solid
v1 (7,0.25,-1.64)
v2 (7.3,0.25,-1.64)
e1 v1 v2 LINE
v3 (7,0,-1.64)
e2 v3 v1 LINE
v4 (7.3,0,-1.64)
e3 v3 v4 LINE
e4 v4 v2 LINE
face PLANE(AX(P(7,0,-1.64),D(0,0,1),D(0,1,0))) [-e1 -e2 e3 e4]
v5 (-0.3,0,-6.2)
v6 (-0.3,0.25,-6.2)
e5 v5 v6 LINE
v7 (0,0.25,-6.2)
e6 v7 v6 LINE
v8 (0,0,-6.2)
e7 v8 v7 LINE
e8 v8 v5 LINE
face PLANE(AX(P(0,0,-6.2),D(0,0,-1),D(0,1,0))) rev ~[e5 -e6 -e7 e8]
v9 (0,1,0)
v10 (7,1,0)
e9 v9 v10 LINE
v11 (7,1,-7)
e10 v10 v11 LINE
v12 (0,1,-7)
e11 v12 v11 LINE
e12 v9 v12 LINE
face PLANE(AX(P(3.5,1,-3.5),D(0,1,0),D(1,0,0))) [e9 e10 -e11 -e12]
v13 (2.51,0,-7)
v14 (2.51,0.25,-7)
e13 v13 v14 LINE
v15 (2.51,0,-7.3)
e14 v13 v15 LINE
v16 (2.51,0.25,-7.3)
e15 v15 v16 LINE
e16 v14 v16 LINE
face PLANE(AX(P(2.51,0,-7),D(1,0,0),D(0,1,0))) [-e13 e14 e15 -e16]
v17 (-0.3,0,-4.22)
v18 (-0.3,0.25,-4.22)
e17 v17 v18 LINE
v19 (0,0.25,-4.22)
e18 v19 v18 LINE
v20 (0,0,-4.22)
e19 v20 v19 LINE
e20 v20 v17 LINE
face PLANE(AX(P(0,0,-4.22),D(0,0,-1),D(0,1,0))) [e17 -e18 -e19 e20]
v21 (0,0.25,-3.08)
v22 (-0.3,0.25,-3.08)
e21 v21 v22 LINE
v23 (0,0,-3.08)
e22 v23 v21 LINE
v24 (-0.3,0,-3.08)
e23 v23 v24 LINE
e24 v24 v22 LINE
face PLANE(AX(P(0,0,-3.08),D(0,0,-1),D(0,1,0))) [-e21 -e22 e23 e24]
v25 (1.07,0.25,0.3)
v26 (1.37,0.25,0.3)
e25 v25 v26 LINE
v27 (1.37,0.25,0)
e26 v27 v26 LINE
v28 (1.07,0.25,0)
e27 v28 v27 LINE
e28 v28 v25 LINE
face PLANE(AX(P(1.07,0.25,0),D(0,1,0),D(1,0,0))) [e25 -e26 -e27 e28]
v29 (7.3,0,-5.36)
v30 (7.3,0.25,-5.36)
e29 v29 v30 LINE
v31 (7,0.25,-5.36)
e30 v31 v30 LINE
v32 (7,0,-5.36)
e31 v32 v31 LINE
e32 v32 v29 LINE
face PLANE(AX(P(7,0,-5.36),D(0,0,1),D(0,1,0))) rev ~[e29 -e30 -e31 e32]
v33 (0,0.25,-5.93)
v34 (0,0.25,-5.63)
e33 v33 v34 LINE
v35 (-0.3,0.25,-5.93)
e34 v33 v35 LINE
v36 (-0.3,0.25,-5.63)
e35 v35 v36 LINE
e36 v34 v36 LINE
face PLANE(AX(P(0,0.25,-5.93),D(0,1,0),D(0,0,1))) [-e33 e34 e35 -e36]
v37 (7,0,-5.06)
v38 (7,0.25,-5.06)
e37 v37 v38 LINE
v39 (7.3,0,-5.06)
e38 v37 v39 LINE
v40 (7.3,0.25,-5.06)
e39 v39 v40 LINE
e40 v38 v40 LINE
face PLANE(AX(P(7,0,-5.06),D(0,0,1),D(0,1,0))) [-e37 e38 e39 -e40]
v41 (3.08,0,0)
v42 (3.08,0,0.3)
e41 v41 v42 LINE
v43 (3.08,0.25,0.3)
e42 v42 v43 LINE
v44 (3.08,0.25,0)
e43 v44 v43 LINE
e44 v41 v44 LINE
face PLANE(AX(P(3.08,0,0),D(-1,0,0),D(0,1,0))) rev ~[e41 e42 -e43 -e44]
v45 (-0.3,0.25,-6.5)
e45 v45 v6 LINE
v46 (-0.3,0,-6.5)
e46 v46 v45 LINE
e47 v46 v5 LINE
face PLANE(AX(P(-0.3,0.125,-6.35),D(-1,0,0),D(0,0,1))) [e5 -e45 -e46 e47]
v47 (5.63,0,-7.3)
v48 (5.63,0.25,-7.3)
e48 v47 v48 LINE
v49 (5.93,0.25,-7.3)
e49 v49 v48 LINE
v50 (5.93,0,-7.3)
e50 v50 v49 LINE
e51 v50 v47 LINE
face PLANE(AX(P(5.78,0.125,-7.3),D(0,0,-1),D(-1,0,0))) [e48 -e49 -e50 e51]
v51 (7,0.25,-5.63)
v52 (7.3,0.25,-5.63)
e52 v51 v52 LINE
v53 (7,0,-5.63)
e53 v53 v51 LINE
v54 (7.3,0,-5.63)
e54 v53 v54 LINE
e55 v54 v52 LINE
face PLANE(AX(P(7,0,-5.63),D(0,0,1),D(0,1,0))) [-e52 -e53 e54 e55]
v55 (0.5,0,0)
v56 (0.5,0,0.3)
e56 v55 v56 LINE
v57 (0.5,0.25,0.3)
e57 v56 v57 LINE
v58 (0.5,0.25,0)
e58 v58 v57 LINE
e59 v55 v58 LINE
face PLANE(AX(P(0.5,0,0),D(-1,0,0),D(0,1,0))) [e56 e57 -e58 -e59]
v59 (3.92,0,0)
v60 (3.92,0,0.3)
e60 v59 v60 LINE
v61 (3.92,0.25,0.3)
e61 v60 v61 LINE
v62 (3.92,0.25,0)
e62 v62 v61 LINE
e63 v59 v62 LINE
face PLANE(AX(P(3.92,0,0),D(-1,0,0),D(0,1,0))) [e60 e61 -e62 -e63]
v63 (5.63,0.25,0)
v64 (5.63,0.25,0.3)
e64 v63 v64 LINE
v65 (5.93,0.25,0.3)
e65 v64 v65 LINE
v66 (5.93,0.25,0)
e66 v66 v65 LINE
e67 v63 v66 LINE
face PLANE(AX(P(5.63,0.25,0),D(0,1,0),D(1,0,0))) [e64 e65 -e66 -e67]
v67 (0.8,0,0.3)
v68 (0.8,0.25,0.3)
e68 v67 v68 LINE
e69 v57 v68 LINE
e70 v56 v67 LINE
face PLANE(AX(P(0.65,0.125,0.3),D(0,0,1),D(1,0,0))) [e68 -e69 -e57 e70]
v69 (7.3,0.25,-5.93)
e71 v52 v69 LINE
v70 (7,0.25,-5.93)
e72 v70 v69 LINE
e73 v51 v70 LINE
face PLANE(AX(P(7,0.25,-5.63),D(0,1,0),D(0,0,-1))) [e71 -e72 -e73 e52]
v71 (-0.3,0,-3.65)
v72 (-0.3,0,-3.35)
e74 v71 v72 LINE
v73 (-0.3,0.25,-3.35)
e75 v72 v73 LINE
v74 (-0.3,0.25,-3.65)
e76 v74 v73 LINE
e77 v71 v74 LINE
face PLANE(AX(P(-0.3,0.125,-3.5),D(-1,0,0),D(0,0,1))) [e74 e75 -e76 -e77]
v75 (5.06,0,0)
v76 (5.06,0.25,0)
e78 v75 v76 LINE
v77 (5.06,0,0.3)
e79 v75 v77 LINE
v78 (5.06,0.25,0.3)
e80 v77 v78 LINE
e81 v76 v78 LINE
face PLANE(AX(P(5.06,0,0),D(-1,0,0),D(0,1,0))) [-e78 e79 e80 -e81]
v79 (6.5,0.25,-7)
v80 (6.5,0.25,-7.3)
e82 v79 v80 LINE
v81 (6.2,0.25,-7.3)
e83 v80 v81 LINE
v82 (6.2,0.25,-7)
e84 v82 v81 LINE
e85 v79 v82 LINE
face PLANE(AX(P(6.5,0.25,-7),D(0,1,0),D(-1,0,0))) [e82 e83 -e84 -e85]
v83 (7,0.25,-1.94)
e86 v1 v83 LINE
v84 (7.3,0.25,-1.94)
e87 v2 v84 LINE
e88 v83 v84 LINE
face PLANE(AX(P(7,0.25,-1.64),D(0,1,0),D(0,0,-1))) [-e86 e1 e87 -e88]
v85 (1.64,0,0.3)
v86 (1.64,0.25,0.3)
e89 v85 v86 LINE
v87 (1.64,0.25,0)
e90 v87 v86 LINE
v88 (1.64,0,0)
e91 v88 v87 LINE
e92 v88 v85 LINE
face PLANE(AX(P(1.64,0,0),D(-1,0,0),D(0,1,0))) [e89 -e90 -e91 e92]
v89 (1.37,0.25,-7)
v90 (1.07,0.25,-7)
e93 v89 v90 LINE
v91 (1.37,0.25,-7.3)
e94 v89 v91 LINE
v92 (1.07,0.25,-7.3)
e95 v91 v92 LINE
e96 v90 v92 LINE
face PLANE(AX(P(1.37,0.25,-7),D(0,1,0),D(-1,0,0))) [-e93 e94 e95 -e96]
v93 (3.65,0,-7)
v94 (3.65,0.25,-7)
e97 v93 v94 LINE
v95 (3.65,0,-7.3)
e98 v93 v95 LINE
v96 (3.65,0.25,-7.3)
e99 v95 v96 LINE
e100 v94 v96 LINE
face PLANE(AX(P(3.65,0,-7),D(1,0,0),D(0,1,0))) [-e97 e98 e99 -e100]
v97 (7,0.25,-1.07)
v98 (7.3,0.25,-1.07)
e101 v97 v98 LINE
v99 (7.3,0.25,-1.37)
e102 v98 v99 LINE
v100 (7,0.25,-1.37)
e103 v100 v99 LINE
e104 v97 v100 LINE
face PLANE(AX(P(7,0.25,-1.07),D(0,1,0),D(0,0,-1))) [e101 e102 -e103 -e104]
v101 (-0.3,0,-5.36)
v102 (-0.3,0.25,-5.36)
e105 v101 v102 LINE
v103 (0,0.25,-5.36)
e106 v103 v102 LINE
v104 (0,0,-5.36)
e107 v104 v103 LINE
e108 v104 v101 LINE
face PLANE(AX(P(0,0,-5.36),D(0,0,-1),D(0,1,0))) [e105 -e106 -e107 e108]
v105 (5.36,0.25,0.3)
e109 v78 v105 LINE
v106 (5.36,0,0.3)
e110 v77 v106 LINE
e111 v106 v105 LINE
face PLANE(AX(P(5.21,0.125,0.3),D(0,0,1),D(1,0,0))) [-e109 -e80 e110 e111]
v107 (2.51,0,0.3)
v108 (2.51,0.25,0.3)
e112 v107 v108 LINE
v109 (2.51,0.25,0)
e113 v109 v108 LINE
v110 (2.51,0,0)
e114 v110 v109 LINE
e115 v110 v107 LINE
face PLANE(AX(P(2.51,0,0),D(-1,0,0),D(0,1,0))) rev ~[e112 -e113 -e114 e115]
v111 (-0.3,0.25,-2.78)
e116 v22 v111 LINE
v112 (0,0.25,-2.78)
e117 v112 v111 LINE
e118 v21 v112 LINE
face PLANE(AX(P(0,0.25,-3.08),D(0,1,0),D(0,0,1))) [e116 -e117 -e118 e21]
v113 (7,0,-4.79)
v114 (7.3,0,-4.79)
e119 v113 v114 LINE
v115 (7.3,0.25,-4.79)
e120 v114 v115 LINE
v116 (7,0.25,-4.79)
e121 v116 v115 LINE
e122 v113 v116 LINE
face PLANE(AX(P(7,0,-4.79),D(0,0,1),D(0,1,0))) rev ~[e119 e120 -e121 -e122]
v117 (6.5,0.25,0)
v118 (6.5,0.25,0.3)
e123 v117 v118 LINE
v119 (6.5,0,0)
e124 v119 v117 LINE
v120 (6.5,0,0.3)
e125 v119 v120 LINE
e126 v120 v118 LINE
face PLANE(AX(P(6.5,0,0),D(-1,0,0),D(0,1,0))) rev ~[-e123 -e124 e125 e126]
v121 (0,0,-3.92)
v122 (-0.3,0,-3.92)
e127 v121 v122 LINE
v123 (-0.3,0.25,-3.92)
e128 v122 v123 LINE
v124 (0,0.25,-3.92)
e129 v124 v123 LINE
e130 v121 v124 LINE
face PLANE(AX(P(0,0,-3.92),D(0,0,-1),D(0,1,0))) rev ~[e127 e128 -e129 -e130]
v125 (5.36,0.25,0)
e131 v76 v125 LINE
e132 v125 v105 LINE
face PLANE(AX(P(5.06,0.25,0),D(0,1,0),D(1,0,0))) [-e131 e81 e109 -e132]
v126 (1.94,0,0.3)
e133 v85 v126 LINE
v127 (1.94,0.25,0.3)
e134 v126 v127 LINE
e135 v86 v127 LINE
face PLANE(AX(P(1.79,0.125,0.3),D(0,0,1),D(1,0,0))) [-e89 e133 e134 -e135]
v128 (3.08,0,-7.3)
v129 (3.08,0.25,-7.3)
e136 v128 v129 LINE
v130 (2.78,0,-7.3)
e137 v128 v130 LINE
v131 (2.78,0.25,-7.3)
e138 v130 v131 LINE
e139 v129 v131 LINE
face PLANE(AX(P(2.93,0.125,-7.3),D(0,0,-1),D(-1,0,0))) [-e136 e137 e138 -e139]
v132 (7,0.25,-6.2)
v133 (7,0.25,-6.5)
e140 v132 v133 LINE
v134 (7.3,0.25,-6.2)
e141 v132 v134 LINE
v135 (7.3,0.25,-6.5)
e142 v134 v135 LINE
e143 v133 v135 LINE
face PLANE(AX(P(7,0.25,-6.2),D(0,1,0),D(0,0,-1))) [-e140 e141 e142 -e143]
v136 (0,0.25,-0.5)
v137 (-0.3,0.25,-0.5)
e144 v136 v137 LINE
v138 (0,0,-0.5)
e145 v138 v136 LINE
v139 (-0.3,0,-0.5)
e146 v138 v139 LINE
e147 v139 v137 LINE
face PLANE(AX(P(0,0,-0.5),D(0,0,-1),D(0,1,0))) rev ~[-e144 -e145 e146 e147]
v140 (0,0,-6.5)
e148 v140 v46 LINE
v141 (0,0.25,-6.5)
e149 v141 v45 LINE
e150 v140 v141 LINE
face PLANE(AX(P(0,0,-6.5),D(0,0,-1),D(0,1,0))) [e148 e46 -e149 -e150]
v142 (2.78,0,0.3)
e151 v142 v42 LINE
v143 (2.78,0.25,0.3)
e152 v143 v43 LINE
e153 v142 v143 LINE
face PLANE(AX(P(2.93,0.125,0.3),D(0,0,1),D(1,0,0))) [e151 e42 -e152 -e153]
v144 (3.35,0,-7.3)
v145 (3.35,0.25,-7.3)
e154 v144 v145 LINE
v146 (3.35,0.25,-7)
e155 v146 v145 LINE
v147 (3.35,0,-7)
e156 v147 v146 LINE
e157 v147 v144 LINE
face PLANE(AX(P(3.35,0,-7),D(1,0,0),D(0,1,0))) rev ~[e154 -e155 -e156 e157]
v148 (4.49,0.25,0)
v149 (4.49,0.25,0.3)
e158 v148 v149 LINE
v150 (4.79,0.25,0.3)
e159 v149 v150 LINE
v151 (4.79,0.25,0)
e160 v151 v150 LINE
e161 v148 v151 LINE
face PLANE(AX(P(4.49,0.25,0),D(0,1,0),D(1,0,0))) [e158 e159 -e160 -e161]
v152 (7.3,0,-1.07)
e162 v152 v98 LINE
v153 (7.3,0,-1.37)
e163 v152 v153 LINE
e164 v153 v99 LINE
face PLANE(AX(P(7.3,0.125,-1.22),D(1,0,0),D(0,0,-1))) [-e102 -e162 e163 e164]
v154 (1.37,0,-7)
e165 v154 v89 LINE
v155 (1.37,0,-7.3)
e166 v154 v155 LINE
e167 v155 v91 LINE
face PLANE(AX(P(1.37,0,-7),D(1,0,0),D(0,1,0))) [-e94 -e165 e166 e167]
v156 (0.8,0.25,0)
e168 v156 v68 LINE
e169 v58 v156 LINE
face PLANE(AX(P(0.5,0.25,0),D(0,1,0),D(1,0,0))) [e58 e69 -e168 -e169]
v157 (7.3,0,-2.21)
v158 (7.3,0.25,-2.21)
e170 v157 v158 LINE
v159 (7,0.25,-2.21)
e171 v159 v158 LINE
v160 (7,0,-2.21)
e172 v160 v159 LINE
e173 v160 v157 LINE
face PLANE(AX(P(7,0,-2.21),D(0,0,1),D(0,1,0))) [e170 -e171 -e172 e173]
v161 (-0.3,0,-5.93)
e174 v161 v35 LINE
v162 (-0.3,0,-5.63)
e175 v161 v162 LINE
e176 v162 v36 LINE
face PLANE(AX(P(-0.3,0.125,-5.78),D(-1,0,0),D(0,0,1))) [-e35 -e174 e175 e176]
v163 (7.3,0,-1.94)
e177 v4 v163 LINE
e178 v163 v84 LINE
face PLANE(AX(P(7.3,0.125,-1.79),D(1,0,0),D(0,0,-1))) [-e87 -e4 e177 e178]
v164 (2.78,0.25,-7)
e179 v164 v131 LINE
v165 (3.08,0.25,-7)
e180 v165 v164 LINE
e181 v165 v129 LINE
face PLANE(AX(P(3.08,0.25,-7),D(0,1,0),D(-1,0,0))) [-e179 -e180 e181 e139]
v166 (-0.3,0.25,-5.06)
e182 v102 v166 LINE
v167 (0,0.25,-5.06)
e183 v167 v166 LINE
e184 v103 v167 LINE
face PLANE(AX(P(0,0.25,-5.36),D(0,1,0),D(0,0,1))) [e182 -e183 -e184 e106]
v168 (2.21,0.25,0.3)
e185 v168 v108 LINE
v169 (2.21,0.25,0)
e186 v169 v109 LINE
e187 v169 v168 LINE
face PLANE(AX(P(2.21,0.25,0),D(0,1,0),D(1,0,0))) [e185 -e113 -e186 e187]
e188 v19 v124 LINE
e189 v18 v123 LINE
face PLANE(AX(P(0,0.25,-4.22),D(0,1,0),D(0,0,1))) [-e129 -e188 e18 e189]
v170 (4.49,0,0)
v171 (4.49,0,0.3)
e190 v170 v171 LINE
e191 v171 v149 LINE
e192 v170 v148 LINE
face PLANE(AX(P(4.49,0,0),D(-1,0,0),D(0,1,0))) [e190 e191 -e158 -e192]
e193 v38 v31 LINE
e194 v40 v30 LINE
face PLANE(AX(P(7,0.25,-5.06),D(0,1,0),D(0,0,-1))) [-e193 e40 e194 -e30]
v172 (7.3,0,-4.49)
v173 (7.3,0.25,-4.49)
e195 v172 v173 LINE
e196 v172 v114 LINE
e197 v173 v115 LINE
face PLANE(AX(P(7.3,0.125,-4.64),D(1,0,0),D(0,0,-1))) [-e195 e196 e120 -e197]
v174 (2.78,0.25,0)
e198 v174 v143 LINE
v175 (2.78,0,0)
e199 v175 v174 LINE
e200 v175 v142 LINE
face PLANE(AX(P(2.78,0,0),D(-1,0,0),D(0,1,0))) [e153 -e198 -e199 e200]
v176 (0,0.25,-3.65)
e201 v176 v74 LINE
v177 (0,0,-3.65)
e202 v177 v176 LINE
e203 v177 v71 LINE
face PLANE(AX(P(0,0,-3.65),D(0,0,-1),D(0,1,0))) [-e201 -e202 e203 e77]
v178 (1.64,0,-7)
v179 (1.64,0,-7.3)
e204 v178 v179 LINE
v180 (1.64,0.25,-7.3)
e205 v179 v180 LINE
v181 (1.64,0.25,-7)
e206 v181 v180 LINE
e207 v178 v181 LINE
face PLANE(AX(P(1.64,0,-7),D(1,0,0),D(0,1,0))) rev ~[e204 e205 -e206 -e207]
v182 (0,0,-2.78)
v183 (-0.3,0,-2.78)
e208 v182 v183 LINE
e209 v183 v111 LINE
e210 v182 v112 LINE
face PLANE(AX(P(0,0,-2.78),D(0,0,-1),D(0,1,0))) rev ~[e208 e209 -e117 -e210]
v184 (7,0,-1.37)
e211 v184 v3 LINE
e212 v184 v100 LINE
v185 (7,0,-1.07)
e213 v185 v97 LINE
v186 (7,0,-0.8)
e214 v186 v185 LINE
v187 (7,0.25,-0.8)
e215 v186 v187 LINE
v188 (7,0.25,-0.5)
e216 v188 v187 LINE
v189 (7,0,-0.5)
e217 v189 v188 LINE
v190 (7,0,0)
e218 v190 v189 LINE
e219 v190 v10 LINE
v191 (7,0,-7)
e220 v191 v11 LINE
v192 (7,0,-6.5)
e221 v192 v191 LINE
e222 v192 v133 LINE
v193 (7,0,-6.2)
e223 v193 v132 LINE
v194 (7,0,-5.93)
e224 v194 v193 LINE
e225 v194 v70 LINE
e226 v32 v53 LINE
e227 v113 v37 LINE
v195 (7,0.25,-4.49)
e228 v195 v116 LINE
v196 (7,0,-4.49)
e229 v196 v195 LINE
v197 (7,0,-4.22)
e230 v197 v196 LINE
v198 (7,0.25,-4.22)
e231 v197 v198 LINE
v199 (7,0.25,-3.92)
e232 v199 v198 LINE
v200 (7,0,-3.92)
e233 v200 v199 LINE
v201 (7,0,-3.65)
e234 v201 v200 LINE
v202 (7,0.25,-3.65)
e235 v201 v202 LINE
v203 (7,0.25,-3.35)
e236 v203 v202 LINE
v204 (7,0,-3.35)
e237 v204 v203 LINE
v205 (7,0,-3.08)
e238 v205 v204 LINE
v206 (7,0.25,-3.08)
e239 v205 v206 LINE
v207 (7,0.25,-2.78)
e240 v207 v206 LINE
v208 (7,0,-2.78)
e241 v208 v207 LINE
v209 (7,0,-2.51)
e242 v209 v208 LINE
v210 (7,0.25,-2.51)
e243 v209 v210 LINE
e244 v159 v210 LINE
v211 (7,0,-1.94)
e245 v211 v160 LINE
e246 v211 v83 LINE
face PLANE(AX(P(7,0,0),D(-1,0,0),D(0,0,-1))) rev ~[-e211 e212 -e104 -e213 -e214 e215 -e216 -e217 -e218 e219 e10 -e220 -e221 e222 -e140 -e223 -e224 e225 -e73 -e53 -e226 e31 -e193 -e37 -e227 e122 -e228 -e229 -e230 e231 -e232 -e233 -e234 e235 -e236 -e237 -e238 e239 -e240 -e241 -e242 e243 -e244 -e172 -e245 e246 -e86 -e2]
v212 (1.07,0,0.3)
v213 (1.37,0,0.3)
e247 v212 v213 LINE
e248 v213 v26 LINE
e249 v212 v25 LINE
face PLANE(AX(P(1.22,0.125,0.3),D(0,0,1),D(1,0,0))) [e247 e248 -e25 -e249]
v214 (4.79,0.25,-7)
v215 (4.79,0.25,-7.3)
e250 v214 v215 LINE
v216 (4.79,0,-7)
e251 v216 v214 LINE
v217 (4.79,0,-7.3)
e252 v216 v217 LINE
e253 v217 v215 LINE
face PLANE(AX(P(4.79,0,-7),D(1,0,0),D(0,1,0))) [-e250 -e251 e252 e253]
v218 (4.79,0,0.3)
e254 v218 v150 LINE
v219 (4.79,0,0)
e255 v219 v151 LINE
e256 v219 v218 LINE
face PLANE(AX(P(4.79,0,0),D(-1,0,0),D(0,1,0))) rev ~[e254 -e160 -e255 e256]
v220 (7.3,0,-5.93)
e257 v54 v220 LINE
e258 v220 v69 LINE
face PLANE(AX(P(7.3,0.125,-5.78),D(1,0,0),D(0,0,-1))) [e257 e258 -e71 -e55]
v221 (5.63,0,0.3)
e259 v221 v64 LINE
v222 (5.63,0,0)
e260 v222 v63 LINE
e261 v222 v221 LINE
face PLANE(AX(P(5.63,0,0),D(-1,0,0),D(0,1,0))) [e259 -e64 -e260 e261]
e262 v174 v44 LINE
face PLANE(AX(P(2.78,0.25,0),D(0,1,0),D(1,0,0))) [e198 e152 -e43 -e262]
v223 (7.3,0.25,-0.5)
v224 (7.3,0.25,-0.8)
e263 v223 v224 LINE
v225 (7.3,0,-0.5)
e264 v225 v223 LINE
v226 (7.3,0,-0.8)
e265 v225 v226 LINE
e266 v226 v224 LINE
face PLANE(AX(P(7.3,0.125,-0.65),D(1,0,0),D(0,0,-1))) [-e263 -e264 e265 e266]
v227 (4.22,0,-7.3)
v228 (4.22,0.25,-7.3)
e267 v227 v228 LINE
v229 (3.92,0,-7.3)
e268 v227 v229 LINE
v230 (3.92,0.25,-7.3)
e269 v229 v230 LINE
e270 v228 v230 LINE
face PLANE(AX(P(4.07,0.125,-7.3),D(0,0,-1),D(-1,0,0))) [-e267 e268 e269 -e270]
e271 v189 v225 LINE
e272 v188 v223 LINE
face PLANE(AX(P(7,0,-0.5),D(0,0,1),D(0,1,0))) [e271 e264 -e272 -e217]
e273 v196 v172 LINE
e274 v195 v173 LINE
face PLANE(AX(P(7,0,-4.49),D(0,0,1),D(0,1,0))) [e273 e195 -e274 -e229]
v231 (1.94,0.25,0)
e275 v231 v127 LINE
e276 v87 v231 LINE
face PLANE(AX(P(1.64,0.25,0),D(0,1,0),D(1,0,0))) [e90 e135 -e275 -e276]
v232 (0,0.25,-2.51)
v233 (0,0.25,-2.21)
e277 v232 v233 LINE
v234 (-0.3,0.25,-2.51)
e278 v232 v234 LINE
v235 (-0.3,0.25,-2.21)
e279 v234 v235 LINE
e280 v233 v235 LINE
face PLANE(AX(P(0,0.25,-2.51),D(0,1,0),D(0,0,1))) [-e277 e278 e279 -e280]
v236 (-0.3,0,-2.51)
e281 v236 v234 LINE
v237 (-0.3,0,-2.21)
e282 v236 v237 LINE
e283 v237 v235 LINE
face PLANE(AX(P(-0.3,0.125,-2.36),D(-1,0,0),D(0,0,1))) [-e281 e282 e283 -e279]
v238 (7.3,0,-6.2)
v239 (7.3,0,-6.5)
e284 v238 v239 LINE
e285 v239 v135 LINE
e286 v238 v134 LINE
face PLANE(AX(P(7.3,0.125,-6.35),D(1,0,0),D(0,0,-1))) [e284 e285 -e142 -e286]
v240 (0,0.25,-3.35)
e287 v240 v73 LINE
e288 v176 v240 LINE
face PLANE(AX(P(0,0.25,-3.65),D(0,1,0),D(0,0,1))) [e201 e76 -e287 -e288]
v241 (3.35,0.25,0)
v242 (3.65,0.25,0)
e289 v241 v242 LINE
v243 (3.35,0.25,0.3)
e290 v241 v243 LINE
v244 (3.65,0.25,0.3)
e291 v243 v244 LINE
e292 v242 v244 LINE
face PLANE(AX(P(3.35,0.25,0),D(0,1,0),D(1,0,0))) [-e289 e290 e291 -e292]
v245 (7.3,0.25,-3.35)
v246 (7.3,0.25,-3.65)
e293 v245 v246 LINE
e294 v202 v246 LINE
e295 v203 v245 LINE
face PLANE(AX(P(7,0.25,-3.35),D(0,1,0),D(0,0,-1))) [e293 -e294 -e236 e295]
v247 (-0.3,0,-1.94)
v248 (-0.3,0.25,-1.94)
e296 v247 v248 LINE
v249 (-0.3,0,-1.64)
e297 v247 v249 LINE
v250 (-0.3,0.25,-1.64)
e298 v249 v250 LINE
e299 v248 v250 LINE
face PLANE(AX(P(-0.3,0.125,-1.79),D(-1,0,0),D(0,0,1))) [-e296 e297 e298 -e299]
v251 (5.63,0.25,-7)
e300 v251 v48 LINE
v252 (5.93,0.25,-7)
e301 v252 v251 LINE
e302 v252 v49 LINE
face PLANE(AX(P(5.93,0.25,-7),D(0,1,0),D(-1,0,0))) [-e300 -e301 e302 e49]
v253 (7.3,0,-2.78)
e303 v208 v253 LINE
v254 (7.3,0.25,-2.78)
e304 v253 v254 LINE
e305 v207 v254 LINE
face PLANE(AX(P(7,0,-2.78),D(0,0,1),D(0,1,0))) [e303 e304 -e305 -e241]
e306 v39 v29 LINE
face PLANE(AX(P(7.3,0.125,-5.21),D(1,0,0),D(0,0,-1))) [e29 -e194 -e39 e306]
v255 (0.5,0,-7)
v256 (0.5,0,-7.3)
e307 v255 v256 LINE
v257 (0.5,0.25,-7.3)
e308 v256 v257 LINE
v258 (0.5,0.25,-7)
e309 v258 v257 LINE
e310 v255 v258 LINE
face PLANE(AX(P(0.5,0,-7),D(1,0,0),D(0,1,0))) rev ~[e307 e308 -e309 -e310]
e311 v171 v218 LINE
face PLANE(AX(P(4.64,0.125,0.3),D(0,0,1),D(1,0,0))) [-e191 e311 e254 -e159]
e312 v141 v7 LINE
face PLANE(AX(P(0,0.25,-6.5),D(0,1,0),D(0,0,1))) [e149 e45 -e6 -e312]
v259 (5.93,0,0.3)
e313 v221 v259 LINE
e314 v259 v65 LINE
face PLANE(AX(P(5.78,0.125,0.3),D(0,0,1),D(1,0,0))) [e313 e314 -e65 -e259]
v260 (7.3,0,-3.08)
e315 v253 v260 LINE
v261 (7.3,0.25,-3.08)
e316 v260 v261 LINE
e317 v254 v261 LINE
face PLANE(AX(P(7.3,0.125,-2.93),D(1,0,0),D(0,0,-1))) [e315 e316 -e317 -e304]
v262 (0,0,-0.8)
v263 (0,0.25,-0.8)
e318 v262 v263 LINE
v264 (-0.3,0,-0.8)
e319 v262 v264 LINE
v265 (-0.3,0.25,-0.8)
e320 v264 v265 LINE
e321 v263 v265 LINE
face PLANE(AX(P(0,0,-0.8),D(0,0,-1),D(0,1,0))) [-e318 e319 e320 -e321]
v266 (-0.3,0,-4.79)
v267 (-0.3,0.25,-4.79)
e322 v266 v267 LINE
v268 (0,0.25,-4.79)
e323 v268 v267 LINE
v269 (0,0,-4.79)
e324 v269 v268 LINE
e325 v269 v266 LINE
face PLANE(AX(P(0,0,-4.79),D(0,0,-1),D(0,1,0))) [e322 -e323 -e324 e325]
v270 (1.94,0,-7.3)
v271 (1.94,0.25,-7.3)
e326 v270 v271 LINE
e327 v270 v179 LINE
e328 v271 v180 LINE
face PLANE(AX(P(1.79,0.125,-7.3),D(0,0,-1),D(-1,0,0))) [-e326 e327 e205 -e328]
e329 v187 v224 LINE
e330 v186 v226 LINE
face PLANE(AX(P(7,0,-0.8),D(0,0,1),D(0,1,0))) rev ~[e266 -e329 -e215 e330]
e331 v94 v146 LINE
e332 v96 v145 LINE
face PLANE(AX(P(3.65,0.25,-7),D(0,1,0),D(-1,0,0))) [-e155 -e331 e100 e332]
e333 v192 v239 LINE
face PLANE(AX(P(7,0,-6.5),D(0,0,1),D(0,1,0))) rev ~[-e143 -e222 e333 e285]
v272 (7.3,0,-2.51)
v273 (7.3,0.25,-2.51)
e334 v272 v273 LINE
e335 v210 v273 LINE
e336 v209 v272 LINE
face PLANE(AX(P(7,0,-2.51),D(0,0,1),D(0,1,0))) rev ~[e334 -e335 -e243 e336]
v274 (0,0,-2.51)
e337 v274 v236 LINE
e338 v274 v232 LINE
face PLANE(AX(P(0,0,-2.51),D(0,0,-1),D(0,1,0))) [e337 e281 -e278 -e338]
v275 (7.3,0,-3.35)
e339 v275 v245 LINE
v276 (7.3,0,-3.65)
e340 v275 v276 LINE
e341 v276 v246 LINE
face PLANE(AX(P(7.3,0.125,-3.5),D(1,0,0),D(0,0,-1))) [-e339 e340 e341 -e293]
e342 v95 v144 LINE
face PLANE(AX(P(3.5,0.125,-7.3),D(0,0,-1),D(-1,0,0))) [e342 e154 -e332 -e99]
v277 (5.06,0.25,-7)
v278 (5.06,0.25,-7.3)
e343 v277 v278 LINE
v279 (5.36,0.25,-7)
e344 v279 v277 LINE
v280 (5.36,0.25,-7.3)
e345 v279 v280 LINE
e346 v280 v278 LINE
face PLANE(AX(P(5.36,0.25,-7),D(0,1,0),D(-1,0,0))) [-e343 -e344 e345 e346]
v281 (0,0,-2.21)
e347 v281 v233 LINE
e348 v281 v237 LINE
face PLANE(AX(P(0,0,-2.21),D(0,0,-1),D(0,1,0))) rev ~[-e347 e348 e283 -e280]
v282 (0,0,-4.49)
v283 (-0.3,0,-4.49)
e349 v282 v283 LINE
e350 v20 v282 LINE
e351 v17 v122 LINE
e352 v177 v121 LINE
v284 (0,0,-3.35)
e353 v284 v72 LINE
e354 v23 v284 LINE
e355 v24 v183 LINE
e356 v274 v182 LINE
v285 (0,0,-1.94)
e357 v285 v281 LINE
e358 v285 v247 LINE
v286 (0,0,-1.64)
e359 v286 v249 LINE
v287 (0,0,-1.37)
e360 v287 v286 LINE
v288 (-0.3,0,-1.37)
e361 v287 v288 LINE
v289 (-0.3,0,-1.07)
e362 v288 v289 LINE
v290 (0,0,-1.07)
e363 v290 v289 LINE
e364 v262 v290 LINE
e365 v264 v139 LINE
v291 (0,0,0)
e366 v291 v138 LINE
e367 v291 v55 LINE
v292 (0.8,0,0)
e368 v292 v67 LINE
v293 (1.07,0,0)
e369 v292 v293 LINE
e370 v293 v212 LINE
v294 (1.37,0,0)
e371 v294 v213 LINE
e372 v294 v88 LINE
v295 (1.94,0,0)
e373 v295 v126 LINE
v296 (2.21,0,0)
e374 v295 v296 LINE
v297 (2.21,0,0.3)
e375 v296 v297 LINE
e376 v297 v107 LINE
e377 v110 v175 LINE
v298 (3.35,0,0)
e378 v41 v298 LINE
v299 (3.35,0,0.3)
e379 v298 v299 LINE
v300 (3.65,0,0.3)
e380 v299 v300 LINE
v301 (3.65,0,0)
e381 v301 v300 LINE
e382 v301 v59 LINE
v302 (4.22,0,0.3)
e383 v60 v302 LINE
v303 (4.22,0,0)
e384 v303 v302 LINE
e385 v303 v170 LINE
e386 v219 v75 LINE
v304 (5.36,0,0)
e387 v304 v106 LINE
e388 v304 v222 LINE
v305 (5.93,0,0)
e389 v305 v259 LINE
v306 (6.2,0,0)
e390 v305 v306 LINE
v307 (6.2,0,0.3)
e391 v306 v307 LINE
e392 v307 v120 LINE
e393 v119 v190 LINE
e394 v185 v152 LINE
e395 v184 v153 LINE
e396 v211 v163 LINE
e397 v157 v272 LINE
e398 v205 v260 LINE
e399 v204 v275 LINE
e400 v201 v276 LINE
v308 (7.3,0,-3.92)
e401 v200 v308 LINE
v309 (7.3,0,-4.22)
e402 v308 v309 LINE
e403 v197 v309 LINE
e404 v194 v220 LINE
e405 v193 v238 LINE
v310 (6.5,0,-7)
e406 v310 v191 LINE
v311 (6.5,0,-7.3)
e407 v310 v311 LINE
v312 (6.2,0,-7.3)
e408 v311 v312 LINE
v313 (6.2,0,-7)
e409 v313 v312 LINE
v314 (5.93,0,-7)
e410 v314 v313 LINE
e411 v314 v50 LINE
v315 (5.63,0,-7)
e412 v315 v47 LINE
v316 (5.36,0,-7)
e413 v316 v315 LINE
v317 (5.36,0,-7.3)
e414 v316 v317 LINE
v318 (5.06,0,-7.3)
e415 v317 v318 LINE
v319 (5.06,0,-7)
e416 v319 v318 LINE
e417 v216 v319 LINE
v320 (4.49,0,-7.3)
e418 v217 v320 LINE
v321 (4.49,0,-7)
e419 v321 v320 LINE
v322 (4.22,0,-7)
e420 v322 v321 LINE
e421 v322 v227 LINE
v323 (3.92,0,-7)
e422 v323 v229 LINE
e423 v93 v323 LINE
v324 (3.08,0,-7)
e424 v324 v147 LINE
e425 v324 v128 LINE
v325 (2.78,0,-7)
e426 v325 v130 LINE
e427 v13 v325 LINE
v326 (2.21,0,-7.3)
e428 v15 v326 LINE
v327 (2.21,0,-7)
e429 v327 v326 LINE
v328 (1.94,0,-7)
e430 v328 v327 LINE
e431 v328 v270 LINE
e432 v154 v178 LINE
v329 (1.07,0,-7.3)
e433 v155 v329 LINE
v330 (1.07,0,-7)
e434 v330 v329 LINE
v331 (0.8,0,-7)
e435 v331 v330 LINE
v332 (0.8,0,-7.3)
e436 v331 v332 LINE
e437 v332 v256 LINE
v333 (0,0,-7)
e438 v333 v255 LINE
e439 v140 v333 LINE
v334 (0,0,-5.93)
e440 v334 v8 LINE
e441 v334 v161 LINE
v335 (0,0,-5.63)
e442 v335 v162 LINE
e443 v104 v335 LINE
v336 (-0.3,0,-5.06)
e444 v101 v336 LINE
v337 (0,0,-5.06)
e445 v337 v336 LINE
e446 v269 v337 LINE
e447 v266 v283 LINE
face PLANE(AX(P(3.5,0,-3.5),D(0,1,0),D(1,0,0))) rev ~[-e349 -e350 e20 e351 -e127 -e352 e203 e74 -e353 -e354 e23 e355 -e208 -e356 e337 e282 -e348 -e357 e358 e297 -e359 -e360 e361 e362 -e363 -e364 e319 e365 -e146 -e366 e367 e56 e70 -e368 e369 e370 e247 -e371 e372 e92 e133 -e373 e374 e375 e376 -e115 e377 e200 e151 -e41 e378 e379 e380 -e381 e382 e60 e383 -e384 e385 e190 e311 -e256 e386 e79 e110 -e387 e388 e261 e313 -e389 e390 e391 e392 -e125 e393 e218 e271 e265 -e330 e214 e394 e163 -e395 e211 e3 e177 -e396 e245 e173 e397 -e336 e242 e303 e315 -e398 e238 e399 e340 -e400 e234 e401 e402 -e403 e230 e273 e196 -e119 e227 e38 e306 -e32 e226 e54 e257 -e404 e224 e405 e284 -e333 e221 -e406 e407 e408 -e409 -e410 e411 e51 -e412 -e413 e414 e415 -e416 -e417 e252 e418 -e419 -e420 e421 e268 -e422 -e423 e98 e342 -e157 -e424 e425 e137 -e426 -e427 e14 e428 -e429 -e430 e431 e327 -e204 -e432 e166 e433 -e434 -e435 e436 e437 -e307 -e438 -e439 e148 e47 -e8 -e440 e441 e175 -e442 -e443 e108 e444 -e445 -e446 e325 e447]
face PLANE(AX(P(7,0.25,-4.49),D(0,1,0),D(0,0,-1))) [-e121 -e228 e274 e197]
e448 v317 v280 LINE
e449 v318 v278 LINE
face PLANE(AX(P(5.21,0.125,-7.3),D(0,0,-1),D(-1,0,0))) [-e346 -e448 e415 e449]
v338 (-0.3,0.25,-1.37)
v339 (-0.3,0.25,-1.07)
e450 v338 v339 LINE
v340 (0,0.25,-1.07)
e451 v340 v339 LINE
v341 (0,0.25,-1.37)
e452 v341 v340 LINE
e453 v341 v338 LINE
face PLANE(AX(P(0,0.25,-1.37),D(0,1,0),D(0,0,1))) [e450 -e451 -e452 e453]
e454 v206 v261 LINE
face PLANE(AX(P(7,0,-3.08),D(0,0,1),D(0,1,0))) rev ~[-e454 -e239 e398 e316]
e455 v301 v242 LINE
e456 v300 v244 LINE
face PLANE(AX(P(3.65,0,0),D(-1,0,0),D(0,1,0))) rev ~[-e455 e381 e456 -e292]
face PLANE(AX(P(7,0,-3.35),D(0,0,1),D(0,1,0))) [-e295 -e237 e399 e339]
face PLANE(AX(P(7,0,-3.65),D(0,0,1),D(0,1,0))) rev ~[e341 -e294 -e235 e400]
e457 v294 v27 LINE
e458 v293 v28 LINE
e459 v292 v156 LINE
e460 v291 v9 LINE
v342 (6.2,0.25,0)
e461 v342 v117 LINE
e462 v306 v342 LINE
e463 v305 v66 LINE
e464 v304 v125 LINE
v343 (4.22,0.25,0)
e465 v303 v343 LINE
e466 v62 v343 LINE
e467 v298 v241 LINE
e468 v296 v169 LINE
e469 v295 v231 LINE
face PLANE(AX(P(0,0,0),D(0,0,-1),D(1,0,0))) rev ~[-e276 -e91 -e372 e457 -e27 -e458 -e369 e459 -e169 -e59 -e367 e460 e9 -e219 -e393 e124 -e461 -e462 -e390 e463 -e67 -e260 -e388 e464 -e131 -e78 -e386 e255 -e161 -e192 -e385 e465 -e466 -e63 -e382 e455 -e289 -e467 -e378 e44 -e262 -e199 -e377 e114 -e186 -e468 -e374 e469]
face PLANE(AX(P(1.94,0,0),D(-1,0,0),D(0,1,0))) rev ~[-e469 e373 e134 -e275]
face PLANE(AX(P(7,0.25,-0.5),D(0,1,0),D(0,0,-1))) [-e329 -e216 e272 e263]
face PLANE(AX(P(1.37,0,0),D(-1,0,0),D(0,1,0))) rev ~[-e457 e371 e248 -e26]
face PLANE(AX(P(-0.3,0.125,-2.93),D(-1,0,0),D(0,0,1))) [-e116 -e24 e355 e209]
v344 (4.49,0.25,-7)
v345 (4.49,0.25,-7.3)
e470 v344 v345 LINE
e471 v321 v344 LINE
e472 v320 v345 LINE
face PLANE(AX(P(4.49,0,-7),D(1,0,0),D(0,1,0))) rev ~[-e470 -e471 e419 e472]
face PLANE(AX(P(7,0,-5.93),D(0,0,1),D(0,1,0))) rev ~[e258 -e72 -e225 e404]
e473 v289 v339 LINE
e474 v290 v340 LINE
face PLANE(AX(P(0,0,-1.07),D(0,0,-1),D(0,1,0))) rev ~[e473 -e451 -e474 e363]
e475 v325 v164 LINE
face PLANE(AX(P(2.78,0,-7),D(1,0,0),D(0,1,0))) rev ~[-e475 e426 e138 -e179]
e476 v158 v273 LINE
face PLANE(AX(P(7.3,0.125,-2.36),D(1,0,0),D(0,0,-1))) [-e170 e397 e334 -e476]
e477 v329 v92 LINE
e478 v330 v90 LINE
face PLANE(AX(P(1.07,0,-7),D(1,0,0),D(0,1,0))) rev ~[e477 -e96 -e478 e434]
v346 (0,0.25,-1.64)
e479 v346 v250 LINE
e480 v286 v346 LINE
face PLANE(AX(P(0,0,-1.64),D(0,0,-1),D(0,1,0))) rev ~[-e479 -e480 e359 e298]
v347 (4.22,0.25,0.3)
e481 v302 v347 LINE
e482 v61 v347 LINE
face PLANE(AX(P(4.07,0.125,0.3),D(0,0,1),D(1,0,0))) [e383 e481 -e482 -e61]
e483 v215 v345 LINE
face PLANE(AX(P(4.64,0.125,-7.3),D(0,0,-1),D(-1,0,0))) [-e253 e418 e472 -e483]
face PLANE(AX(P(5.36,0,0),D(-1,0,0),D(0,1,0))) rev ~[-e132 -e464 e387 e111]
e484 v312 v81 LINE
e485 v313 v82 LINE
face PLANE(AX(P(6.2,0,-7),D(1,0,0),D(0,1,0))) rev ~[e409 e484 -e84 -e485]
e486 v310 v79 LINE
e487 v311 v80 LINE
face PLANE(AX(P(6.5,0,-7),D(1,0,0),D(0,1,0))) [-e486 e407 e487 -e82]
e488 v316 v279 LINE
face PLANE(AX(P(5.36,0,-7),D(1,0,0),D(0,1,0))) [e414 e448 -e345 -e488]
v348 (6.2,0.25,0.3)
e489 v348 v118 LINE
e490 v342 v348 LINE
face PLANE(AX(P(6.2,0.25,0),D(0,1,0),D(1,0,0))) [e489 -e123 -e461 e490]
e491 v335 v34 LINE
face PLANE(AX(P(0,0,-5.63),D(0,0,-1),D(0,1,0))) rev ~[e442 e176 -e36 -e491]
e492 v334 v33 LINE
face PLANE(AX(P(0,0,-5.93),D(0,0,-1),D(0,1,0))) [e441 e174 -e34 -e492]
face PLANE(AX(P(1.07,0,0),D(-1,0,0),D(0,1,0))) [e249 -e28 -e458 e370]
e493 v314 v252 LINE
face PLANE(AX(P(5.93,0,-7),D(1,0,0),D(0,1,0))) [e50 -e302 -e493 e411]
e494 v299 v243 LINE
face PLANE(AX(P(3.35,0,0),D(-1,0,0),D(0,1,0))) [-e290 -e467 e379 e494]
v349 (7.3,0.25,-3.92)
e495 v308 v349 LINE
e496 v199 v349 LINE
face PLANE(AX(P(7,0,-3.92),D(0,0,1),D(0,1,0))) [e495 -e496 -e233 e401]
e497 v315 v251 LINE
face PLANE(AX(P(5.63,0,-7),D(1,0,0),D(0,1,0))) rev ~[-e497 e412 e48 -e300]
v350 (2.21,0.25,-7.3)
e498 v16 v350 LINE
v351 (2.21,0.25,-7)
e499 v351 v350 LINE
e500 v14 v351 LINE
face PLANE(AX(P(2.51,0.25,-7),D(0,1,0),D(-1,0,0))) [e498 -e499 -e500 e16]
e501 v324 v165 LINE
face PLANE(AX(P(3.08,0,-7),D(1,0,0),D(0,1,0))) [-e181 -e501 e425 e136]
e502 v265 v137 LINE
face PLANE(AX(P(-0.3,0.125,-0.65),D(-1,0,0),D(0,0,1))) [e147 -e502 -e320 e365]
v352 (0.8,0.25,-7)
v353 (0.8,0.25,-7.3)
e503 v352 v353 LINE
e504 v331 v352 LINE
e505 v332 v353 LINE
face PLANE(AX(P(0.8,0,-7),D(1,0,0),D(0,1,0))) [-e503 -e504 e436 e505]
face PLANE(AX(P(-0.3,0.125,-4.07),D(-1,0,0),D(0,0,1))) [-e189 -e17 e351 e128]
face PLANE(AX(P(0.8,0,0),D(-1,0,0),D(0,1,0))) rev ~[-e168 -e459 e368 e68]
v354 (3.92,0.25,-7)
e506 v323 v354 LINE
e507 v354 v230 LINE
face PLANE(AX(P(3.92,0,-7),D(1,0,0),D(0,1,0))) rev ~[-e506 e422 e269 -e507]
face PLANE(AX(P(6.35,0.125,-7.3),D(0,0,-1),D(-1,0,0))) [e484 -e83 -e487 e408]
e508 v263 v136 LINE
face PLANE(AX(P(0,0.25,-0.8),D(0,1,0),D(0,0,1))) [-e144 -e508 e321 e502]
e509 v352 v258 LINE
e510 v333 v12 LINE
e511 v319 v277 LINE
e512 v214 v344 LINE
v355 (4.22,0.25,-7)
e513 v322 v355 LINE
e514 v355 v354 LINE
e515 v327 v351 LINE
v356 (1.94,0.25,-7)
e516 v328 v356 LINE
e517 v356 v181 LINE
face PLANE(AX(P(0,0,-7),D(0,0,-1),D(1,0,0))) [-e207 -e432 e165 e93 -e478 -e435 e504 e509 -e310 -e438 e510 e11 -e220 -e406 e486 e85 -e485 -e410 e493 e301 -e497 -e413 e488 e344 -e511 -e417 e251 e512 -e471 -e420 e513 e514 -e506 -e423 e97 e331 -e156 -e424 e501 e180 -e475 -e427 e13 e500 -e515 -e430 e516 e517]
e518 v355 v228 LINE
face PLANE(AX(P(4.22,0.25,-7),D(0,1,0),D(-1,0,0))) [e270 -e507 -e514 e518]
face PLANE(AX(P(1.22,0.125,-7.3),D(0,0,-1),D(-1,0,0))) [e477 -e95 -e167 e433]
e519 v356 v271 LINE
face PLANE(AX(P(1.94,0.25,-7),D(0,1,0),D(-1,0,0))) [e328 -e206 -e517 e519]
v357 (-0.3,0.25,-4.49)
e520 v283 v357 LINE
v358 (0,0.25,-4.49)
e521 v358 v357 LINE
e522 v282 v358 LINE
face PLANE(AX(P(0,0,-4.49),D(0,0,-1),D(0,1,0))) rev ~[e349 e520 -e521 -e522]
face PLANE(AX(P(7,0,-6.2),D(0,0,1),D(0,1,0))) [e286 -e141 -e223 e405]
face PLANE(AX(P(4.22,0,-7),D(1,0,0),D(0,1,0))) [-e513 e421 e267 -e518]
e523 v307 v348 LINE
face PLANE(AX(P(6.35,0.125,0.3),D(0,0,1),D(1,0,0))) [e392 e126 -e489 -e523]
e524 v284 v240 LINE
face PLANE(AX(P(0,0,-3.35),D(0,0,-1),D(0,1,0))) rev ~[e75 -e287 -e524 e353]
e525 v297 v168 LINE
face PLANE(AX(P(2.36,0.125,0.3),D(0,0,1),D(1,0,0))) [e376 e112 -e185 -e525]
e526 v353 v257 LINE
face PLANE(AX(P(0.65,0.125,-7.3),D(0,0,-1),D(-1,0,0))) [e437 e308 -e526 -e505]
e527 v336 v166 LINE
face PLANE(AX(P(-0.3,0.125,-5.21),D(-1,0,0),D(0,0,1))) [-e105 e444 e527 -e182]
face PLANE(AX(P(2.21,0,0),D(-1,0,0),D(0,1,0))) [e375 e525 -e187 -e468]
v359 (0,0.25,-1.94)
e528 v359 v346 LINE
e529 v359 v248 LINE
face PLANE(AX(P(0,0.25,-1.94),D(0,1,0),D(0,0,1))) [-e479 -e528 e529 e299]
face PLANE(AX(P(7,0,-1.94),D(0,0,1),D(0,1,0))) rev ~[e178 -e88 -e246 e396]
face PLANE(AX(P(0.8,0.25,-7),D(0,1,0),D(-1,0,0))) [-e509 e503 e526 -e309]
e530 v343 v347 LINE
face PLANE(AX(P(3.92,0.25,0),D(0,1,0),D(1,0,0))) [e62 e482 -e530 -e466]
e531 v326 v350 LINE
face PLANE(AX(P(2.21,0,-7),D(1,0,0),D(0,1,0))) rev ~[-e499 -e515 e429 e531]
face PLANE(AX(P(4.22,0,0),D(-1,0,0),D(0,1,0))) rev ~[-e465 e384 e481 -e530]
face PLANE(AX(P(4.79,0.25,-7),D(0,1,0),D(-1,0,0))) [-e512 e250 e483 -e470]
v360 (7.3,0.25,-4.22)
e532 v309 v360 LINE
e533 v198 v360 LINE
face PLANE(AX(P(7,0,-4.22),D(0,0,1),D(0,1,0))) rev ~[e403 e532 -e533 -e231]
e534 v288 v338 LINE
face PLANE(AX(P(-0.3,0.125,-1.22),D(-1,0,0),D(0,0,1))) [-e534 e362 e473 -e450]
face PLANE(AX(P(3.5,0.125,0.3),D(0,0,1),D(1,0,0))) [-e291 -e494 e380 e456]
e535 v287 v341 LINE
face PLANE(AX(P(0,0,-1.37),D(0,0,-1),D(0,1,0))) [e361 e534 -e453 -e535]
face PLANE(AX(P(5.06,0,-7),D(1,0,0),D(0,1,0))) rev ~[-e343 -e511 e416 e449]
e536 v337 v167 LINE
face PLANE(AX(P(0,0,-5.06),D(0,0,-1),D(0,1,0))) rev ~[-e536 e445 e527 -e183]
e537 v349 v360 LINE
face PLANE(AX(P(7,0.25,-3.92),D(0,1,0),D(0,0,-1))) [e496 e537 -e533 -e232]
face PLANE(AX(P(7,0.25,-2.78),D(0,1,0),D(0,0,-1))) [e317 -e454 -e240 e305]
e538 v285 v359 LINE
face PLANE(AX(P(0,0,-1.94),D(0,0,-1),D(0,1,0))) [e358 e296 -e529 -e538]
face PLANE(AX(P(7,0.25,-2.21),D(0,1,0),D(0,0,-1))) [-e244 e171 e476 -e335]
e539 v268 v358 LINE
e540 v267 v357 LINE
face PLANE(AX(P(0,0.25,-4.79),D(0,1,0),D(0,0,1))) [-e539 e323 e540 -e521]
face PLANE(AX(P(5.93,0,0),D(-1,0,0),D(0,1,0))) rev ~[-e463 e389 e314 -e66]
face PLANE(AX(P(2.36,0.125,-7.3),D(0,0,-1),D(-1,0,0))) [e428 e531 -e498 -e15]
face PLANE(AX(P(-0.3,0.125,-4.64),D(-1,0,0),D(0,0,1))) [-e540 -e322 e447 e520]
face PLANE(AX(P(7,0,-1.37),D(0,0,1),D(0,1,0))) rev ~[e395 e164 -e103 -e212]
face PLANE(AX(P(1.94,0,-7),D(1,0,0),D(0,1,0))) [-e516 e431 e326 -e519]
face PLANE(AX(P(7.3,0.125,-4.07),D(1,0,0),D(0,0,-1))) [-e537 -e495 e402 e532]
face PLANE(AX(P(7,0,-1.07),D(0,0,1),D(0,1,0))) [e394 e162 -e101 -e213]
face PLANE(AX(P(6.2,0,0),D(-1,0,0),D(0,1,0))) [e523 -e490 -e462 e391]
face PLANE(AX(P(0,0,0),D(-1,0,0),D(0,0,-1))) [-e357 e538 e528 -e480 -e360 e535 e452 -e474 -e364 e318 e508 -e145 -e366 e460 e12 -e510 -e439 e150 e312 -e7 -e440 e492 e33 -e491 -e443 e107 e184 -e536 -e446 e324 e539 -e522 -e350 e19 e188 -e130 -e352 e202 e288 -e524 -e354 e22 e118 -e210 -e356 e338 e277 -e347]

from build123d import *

# Parameters (mm, degrees)
SKETCH1_W           = 7
SKETCH1_H           = 7
BOSS_EXTRUDE1_DEPTH = 1
SKETCH2_W           = 0.3
SKETCH2_H           = 0.25
BOSS_EXTRUDE2_DEPTH = 0.3
SKETCH3_W           = 0.3
SKETCH3_H           = 0.25
BOSS_EXTRUDE3_DEPTH = 0.3
SKETCH4_W           = 0.3
SKETCH4_H           = 0.25
BOSS_EXTRUDE4_DEPTH = 0.3
SKETCH5_W           = 0.3
SKETCH5_H           = 0.25
BOSS_EXTRUDE5_DEPTH = 0.3


with BuildPart() as part:
    # Sketch1 → Boss-Extrude1 (new body)
    with BuildSketch(Plane(origin=(0, 0, 0), x_dir=(1, 0, 0), z_dir=(0, 1, 0))):
        with Locations((3.5, 3.5)):
            Rectangle(SKETCH1_W, SKETCH1_H)
    extrude(amount=BOSS_EXTRUDE1_DEPTH)

    # Sketch2 → Boss-Extrude2 (add)
    with BuildSketch(Plane.XY):
        with Locations((0.65, 0.125)):
            Rectangle(SKETCH2_W, SKETCH2_H)
        with Locations((1.22, 0.125)):
            Rectangle(SKETCH2_W, SKETCH2_H)
        with Locations((1.79, 0.125)):
            Rectangle(SKETCH2_W, SKETCH2_H)
        with Locations((2.36, 0.125)):
            Rectangle(SKETCH2_W, SKETCH2_H)
        with Locations((2.93, 0.125)):
            Rectangle(SKETCH2_W, SKETCH2_H)
        with Locations((3.5, 0.125)):
            Rectangle(SKETCH2_W, SKETCH2_H)
        with Locations((4.07, 0.125)):
            Rectangle(SKETCH2_W, SKETCH2_H)
        with Locations((4.64, 0.125)):
            Rectangle(SKETCH2_W, SKETCH2_H)
        with Locations((5.21, 0.125)):
            Rectangle(SKETCH2_W, SKETCH2_H)
        with Locations((5.78, 0.125)):
            Rectangle(SKETCH2_W, SKETCH2_H)
        with Locations((6.35, 0.125)):
            Rectangle(SKETCH2_W, SKETCH2_H)
    extrude(amount=BOSS_EXTRUDE2_DEPTH)

    # Sketch3 → Boss-Extrude3 (add)
    with BuildSketch(Plane(origin=(7, 0, 0), x_dir=(0, 0, -1), z_dir=(1, 0, 0))):
        with Locations((0.65, 0.125)):
            Rectangle(SKETCH3_W, SKETCH3_H)
        with Locations((1.22, 0.125)):
            Rectangle(SKETCH3_W, SKETCH3_H)
        with Locations((1.79, 0.125)):
            Rectangle(SKETCH3_W, SKETCH3_H)
        with Locations((2.36, 0.125)):
            Rectangle(SKETCH3_W, SKETCH3_H)
        with Locations((2.93, 0.125)):
            Rectangle(SKETCH3_W, SKETCH3_H)
        with Locations((3.5, 0.125)):
            Rectangle(SKETCH3_W, SKETCH3_H)
        with Locations((4.07, 0.125)):
            Rectangle(SKETCH3_W, SKETCH3_H)
        with Locations((4.64, 0.125)):
            Rectangle(SKETCH3_W, SKETCH3_H)
        with Locations((5.21, 0.125)):
            Rectangle(SKETCH3_W, SKETCH3_H)
        with Locations((5.78, 0.125)):
            Rectangle(SKETCH3_W, SKETCH3_H)
        with Locations((6.35, 0.125)):
            Rectangle(SKETCH3_W, SKETCH3_H)
    extrude(amount=BOSS_EXTRUDE3_DEPTH)

    # Sketch4 → Boss-Extrude4 (add)
    with BuildSketch(Plane(origin=(0, 0, -7), x_dir=(-1, 0, 0), z_dir=(0, 0, -1))):
        with Locations((-6.35, 0.125)):
            Rectangle(SKETCH4_W, SKETCH4_H)
        with Locations((-5.78, 0.125)):
            Rectangle(SKETCH4_W, SKETCH4_H)
        with Locations((-5.21, 0.125)):
            Rectangle(SKETCH4_W, SKETCH4_H)
        with Locations((-4.64, 0.125)):
            Rectangle(SKETCH4_W, SKETCH4_H)
        with Locations((-4.07, 0.125)):
            Rectangle(SKETCH4_W, SKETCH4_H)
        with Locations((-3.5, 0.125)):
            Rectangle(SKETCH4_W, SKETCH4_H)
        with Locations((-2.93, 0.125)):
            Rectangle(SKETCH4_W, SKETCH4_H)
        with Locations((-2.36, 0.125)):
            Rectangle(SKETCH4_W, SKETCH4_H)
        with Locations((-1.79, 0.125)):
            Rectangle(SKETCH4_W, SKETCH4_H)
        with Locations((-1.22, 0.125)):
            Rectangle(SKETCH4_W, SKETCH4_H)
        with Locations((-0.65, 0.125)):
            Rectangle(SKETCH4_W, SKETCH4_H)
    extrude(amount=BOSS_EXTRUDE4_DEPTH)

    # Sketch5 → Boss-Extrude5 (add)
    with BuildSketch(Plane.ZY):
        with Locations((-6.35, 0.125)):
            Rectangle(SKETCH5_W, SKETCH5_H)
        with Locations((-5.78, 0.125)):
            Rectangle(SKETCH5_W, SKETCH5_H)
        with Locations((-5.21, 0.125)):
            Rectangle(SKETCH5_W, SKETCH5_H)
        with Locations((-4.64, 0.125)):
            Rectangle(SKETCH5_W, SKETCH5_H)
        with Locations((-4.07, 0.125)):
            Rectangle(SKETCH5_W, SKETCH5_H)
        with Locations((-3.5, 0.125)):
            Rectangle(SKETCH5_W, SKETCH5_H)
        with Locations((-2.93, 0.125)):
            Rectangle(SKETCH5_W, SKETCH5_H)
        with Locations((-2.36, 0.125)):
            Rectangle(SKETCH5_W, SKETCH5_H)
        with Locations((-1.79, 0.125)):
            Rectangle(SKETCH5_W, SKETCH5_H)
        with Locations((-1.22, 0.125)):
            Rectangle(SKETCH5_W, SKETCH5_H)
        with Locations((-0.65, 0.125)):
            Rectangle(SKETCH5_W, SKETCH5_H)
    extrude(amount=BOSS_EXTRUDE5_DEPTH)


solid = part.part
